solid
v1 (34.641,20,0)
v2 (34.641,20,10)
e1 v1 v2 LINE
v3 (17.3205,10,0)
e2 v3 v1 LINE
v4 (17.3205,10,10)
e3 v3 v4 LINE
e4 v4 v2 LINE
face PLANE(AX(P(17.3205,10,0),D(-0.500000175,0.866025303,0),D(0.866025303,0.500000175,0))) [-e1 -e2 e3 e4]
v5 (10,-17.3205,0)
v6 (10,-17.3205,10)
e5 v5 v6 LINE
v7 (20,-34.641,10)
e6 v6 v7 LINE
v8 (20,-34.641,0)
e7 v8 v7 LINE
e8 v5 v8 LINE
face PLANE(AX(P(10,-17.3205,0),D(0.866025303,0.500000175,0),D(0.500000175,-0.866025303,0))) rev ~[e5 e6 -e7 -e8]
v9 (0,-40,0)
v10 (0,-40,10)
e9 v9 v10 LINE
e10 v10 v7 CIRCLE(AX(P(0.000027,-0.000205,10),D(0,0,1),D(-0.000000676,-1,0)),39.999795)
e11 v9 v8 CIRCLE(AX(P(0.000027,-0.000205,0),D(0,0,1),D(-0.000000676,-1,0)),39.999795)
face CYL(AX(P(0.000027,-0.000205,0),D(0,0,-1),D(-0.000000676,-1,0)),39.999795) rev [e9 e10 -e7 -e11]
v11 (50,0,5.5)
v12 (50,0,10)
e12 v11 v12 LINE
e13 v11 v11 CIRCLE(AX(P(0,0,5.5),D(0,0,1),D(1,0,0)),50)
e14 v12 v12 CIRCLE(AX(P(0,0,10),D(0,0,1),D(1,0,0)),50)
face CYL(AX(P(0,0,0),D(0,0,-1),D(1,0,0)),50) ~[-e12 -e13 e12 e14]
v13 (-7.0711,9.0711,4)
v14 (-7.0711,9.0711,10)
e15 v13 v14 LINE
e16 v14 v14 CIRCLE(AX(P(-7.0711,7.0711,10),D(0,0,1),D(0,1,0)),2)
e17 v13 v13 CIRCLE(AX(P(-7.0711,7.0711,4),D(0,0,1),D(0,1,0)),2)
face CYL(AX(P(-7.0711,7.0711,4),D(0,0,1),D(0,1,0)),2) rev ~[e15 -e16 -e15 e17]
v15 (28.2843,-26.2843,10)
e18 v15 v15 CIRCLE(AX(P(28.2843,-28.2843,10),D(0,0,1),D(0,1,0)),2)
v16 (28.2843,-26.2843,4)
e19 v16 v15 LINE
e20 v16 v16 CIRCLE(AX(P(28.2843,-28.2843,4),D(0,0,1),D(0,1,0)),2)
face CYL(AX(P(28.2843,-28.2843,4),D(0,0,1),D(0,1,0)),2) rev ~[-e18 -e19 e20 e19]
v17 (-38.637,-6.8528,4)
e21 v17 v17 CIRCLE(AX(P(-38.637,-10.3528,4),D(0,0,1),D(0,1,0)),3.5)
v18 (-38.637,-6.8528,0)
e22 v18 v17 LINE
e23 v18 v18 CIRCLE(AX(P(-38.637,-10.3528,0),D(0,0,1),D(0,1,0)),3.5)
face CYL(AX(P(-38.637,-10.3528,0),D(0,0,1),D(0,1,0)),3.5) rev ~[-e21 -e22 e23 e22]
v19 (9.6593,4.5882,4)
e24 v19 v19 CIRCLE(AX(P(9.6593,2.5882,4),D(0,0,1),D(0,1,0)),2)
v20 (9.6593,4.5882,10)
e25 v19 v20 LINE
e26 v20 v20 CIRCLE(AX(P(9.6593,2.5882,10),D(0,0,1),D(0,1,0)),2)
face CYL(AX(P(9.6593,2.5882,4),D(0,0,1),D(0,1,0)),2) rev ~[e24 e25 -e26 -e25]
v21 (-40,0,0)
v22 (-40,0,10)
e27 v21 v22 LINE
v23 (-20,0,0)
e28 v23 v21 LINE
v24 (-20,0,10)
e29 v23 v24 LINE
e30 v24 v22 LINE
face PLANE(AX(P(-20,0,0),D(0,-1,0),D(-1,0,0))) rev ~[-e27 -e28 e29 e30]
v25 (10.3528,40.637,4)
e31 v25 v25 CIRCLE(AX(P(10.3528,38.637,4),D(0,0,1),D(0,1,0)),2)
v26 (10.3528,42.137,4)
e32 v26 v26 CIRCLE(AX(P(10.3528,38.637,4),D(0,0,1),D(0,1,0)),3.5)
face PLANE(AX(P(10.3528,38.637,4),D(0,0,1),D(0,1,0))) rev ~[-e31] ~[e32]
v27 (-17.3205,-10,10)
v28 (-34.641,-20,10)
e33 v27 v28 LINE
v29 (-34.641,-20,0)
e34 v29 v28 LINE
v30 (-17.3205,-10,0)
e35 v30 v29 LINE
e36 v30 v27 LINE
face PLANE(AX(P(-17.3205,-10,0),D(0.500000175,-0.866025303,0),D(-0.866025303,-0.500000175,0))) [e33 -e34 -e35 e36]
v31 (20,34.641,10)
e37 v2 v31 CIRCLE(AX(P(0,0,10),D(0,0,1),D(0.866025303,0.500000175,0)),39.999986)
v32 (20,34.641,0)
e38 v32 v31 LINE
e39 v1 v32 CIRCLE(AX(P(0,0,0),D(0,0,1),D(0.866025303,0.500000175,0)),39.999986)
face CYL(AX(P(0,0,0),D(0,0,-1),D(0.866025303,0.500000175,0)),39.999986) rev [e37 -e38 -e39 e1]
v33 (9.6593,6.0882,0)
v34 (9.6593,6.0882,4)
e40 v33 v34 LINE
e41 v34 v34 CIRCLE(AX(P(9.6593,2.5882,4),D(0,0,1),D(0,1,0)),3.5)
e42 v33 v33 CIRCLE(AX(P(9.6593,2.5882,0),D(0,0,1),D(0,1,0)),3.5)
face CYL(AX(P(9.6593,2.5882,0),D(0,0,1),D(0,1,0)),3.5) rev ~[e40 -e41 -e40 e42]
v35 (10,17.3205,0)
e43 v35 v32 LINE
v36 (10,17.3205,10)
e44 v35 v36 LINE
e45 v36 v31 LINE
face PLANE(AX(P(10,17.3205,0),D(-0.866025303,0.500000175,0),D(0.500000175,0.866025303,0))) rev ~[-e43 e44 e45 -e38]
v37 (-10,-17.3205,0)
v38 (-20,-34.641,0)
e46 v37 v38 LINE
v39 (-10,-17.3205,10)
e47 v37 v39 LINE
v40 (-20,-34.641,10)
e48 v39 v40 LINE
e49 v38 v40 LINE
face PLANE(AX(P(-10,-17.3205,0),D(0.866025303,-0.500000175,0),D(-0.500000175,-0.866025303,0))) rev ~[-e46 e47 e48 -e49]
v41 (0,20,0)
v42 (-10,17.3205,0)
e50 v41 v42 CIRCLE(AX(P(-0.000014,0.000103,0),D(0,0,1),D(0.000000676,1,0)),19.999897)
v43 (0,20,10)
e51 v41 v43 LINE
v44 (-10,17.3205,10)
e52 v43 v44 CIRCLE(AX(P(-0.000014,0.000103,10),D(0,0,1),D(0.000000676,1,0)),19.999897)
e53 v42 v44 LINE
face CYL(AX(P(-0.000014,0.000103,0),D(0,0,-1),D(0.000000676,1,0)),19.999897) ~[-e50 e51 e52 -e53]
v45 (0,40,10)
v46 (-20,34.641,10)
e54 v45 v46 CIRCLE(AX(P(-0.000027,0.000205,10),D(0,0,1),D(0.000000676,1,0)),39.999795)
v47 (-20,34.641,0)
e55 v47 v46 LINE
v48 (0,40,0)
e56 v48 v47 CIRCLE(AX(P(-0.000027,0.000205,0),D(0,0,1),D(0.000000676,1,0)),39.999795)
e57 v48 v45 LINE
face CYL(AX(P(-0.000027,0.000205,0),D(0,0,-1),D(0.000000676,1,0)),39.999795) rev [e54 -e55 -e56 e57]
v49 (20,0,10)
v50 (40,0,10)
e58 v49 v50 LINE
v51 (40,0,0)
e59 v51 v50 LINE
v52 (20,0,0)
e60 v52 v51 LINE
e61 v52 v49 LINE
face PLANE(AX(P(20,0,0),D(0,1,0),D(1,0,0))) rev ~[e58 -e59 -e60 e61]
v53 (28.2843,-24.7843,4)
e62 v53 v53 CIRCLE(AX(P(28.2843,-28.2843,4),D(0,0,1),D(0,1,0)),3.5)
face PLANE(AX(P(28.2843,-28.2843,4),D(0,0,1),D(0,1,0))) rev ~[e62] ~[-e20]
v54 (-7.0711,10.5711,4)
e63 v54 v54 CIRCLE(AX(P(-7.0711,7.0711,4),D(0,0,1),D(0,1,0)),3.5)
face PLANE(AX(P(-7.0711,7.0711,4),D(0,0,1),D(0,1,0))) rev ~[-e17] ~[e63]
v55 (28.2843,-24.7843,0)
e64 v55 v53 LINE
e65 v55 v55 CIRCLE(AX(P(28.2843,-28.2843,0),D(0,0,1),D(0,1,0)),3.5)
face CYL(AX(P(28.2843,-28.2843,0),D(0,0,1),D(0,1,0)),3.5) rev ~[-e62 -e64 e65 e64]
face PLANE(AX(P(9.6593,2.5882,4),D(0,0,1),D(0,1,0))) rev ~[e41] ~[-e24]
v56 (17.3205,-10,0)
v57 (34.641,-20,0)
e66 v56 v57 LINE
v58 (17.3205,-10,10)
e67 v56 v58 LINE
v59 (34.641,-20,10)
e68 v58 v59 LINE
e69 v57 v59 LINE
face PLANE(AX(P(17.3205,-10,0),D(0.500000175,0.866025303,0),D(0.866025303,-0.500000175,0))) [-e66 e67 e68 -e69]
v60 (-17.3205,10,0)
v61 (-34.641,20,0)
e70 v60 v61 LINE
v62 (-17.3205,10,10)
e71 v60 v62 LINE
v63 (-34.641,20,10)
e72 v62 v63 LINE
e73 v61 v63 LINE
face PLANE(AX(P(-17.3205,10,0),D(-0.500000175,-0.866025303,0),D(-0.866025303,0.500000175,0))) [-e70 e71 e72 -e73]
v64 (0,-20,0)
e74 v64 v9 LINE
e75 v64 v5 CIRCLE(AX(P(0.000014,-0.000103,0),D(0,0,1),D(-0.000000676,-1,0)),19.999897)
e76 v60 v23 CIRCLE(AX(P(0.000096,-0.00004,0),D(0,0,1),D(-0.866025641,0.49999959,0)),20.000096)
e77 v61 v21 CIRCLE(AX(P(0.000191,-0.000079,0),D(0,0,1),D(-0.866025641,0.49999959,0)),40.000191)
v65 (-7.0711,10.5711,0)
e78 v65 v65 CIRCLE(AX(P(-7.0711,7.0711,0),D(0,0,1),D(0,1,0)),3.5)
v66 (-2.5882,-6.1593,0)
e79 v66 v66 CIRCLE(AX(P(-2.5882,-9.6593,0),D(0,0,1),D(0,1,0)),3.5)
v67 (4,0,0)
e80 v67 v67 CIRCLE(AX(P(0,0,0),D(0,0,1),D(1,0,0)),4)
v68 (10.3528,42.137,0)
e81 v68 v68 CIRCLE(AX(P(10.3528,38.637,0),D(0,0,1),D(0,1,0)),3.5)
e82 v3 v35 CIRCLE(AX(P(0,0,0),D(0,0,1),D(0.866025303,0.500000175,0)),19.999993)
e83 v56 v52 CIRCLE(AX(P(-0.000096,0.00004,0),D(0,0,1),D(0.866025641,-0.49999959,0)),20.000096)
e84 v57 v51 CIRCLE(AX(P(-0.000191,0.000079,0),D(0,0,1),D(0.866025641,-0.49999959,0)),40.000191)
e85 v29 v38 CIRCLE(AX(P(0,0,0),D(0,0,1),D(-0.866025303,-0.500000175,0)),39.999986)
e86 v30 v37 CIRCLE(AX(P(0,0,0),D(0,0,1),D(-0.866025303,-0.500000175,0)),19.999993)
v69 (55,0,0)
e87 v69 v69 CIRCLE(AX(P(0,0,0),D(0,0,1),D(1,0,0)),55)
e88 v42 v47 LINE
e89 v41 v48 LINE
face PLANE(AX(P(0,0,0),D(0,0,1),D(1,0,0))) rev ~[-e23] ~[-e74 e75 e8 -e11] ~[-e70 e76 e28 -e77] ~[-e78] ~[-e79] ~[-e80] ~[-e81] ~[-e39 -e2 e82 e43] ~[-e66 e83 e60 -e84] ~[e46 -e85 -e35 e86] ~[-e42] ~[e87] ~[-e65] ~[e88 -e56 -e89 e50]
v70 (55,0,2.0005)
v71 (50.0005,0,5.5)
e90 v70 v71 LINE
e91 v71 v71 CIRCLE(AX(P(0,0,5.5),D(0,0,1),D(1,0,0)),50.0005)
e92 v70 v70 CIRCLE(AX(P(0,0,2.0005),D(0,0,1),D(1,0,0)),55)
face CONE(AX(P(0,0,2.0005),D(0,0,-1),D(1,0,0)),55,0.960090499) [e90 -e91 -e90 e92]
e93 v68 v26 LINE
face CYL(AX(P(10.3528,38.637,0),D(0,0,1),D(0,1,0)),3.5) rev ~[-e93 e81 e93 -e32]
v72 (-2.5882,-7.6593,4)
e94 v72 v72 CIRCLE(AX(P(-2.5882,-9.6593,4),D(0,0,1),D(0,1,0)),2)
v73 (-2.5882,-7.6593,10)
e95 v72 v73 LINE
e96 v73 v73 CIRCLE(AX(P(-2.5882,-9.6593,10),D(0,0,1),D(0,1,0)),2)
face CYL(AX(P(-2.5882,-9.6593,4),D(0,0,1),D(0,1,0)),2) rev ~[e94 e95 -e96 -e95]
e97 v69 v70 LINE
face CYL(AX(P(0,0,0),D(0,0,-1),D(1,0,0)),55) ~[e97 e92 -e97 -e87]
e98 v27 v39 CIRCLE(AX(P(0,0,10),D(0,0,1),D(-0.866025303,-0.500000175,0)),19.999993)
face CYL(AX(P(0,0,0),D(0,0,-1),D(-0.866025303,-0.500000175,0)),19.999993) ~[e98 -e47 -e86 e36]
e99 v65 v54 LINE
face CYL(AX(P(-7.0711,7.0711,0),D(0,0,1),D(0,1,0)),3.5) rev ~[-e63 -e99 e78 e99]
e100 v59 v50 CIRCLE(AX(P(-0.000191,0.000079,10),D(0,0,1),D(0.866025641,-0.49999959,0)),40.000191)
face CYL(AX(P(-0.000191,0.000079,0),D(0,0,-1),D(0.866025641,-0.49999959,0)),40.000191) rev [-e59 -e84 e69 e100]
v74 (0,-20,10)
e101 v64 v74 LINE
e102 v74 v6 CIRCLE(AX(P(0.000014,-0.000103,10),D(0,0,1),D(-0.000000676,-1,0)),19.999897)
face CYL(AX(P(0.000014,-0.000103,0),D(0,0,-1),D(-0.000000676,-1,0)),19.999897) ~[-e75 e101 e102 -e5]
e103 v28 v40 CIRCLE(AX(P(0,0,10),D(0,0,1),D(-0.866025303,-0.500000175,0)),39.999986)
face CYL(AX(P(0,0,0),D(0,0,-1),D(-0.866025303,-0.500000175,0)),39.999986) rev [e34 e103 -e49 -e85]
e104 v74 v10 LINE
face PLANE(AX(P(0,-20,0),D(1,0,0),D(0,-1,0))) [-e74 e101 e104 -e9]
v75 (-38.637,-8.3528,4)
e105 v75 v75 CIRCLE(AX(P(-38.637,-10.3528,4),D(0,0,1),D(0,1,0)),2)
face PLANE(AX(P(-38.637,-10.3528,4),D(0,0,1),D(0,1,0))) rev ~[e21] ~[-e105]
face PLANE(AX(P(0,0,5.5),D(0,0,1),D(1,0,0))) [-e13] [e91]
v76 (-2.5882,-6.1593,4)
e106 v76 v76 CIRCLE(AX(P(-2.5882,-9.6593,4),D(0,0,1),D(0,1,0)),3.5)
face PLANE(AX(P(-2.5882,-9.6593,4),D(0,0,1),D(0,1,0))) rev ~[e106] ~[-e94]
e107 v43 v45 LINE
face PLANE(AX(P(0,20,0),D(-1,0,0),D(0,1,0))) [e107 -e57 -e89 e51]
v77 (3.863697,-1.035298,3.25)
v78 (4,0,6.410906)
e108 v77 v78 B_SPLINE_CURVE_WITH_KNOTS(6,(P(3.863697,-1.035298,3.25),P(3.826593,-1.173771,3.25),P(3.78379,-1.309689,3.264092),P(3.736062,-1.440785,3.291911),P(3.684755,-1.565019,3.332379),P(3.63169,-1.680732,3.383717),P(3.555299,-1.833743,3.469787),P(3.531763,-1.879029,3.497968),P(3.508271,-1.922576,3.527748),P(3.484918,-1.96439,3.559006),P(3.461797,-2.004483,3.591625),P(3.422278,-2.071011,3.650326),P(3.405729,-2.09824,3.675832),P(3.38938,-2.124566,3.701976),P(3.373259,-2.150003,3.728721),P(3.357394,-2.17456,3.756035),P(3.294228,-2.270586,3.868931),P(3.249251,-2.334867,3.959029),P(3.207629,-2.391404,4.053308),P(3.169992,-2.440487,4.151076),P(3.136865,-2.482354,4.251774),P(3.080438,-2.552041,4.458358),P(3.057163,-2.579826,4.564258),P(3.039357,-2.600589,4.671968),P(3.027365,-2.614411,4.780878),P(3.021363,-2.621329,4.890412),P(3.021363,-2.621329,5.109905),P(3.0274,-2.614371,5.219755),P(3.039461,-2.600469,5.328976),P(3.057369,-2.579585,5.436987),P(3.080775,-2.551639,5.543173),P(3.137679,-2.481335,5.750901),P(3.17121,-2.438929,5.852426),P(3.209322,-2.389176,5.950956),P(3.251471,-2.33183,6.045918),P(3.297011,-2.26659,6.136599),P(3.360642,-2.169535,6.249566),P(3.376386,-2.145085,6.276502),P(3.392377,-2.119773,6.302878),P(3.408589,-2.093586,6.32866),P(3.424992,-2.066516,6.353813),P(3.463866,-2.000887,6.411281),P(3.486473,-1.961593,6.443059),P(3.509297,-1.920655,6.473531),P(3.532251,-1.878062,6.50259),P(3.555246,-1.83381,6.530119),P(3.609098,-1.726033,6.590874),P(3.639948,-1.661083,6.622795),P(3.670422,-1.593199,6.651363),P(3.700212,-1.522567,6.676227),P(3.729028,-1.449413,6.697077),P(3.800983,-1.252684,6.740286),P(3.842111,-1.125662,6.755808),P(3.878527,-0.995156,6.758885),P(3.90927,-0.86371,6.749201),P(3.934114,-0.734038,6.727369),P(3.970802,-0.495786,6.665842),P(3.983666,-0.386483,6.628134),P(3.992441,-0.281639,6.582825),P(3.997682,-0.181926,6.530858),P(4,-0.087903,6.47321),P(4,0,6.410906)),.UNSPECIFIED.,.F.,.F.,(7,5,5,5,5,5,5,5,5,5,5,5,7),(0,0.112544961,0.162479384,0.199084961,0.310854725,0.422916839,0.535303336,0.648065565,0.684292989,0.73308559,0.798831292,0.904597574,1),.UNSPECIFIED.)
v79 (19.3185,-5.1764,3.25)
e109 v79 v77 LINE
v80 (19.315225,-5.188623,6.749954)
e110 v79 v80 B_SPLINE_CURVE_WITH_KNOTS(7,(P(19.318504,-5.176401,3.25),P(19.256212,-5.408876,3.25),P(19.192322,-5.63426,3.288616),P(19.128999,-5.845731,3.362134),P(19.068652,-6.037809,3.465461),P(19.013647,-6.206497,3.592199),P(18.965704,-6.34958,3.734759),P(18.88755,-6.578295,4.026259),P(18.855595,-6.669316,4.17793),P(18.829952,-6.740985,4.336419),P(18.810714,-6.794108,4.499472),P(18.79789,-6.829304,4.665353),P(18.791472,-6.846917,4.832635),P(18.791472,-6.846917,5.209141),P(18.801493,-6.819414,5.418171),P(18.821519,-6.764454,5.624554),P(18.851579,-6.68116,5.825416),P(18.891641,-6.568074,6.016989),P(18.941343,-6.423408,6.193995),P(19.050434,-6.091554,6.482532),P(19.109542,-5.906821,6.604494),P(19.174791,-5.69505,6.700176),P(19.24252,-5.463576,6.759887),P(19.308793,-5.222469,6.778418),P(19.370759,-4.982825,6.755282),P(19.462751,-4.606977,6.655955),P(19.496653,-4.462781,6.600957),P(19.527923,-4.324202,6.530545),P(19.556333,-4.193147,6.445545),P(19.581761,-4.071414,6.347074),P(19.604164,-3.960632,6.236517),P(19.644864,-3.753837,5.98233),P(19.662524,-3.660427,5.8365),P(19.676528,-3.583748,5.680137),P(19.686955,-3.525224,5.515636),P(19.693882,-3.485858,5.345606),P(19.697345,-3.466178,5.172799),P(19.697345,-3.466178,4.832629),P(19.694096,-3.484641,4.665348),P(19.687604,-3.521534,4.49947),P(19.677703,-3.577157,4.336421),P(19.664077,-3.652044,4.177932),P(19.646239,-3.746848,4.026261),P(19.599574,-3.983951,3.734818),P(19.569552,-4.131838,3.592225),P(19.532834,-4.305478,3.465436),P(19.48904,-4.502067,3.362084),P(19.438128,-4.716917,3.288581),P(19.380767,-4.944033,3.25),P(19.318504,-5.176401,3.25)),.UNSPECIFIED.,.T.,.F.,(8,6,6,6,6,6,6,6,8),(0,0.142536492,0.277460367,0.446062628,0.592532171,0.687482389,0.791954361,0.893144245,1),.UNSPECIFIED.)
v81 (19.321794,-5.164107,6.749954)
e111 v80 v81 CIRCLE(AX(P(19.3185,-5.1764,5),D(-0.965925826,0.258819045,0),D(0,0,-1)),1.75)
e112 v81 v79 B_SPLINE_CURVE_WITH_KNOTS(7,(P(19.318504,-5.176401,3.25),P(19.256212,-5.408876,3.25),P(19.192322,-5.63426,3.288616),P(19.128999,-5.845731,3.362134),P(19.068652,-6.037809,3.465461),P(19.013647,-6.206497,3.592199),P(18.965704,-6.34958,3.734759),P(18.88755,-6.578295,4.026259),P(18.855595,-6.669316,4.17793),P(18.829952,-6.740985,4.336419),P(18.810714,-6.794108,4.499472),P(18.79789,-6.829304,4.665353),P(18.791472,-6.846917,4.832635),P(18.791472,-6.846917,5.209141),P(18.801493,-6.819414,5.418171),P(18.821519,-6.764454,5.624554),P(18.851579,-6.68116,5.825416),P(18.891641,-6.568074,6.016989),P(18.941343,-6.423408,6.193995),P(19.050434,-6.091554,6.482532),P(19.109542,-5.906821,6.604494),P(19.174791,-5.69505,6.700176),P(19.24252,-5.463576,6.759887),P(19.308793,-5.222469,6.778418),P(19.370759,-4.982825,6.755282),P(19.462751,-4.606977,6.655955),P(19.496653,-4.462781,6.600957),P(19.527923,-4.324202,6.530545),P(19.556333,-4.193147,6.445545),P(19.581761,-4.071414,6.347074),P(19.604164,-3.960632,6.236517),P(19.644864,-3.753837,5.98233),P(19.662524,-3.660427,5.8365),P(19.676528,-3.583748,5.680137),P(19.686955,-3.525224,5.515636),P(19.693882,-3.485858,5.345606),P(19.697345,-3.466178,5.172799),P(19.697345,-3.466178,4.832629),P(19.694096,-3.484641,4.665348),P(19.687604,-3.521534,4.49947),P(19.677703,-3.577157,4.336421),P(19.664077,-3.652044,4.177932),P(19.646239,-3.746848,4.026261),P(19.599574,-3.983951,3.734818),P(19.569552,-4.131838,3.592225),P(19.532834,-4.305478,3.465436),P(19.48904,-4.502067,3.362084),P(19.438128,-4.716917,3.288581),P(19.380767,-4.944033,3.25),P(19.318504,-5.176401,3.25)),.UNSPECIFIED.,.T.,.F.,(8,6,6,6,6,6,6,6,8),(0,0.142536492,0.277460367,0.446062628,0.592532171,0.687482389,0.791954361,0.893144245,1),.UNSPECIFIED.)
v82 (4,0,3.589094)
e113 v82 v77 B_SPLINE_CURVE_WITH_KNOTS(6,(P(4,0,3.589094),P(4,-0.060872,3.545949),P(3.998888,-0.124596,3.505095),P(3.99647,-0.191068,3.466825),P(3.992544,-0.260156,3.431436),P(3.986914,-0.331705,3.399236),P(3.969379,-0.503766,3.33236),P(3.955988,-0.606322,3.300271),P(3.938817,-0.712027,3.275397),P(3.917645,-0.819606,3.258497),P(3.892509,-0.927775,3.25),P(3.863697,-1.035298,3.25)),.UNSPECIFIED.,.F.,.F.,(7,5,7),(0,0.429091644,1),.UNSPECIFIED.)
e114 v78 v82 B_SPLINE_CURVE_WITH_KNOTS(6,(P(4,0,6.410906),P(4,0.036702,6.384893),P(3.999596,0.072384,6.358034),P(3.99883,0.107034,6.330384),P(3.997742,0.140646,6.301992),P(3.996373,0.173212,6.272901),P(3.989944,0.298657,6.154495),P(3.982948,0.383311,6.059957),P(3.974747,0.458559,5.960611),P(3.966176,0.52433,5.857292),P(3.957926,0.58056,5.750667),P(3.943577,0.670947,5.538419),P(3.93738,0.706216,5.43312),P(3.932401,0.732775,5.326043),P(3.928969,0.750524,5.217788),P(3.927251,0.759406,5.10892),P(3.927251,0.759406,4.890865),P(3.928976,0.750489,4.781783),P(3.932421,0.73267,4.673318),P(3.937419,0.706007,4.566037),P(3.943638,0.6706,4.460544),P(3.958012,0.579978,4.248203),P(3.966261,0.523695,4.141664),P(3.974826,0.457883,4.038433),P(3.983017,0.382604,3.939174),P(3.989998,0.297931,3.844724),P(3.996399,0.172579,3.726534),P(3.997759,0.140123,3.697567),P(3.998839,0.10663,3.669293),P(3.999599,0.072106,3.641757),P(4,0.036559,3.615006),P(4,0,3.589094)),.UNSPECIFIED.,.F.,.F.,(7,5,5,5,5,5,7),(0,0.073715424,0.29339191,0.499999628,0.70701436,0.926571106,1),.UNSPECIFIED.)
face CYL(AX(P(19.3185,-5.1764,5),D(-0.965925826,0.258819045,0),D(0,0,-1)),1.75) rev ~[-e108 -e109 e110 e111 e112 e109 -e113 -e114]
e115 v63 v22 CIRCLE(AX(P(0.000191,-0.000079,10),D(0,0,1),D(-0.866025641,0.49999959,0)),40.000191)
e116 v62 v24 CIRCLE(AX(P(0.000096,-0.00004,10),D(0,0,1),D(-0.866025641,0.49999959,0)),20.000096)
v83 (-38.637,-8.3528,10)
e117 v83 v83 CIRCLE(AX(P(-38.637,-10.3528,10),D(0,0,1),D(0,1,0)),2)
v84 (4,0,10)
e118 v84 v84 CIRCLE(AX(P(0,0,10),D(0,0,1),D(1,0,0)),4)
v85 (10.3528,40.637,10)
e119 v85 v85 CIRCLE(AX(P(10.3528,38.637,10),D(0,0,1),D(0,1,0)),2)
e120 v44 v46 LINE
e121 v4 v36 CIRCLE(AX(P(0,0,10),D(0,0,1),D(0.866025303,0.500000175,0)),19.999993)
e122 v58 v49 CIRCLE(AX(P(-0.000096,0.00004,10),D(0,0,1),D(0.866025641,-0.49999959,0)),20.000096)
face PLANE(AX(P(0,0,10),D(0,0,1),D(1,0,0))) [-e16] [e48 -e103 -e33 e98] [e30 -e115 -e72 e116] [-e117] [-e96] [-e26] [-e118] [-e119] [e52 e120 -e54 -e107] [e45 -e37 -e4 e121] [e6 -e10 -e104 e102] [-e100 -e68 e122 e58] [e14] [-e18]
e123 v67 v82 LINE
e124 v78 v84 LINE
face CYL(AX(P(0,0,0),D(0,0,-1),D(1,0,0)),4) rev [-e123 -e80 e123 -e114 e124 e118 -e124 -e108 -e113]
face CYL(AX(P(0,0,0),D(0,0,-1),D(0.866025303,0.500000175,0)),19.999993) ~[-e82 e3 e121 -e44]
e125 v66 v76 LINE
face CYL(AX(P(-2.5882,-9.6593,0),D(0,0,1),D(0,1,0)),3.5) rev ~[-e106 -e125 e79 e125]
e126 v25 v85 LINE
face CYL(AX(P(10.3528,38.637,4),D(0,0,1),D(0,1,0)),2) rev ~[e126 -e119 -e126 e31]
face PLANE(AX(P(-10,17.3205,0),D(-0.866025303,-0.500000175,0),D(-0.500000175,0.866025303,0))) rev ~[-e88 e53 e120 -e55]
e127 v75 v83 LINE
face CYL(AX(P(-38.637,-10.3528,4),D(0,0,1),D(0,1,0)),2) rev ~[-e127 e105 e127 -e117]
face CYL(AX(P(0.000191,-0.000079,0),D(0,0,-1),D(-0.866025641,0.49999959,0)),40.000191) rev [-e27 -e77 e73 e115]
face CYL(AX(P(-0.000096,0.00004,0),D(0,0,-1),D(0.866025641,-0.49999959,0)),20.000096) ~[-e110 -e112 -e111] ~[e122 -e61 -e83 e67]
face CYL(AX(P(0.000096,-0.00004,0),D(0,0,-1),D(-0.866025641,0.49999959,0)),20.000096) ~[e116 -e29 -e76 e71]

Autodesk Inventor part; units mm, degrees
ref_plane "YZ Plane" through (0, 0, 0) normal (1, 0, 0) x (0, 1, 0)
ref_plane "XZ Plane" through (0, 0, 0) normal (0, 1, 0) x (-1, 0, 0)
sketch "Sketch1" plane through (0, 0, 0) normal (0, 0, 1) x (1, 0, 0)
  circle A0 centre (0, 0) radius 55
  circle A1 centre (0, 0) radius 50
  circle A2 centre (0, 0) radius 4
  line L0 (0, 20) -> (0, 40)
  arc A3 (0, 20) -> (-10, 17.3205) centre (0, 0) ccw
  line L1 (0, 0) -> (-10, 17.3205) construction
  line L2 (0, 0) -> (0, 20) construction
  arc A4 (0, 40) -> (-20, 34.641) centre (0, 0) ccw
  line L3 (0, 0) -> (-20, 34.641) construction
  line L4 (0, 0) -> (0, 40) construction
  line L5 (-10, 17.3205) -> (-20, 34.641)
  line L6 (-17.3205, 10) -> (-34.641, 20)
  arc A5 (-17.3205, 10) -> (-20, 0) centre (0, 0) ccw
  line L7 (0, 0) -> (-20, 0) construction
  line L8 (0, 0) -> (-17.3205, 10) construction
  arc A6 (-34.641, 20) -> (-40, 0) centre (0, 0) ccw
  line L9 (0, 0) -> (-40, 0) construction
  line L10 (0, 0) -> (-34.641, 20) construction
  line L11 (-20, 0) -> (-40, 0)
  line L12 (-17.3205, -10) -> (-34.641, -20)
  arc A7 (-17.3205, -10) -> (-10, -17.3205) centre (0, 0) ccw
  line L13 (0, 0) -> (-10, -17.3205) construction
  line L14 (0, 0) -> (-17.3205, -10) construction
  arc A8 (-34.641, -20) -> (-20, -34.641) centre (0, 0) ccw
  line L15 (0, 0) -> (-20, -34.641) construction
  line L16 (0, 0) -> (-34.641, -20) construction
  line L17 (-10, -17.3205) -> (-20, -34.641)
  line L18 (0, -20) -> (0, -40)
  arc A9 (0, -20) -> (10, -17.3205) centre (0, 0) ccw
  line L19 (0, 0) -> (10, -17.3205) construction
  line L20 (0, 0) -> (0, -20) construction
  arc A10 (0, -40) -> (20, -34.641) centre (0, 0) ccw
  line L21 (0, 0) -> (20, -34.641) construction
  line L22 (0, 0) -> (0, -40) construction
  line L23 (10, -17.3205) -> (20, -34.641)
  line L24 (17.3205, -10) -> (34.641, -20)
  arc A11 (17.3205, -10) -> (20, 0) centre (0, 0) ccw
  line L25 (0, 0) -> (20, 0) construction
  line L26 (0, 0) -> (17.3205, -10) construction
  arc A12 (34.641, -20) -> (40, 0) centre (0, 0) ccw
  line L27 (0, 0) -> (40, 0) construction
  line L28 (0, 0) -> (34.641, -20) construction
  line L29 (20, 0) -> (40, 0)
  line L30 (17.3205, 10) -> (34.641, 20)
  arc A13 (17.3205, 10) -> (10, 17.3205) centre (0, 0) ccw
  line L31 (0, 0) -> (10, 17.3205) construction
  line L32 (0, 0) -> (17.3205, 10) construction
  arc A14 (34.641, 20) -> (20, 34.641) centre (0, 0) ccw
  line L33 (0, 0) -> (20, 34.641) construction
  line L34 (0, 0) -> (34.641, 20) construction
  line L35 (10, 17.3205) -> (20, 34.641)
  point P0 (0, 10)
  point P1 (-2.5882, 9.6593)
  point P2 (-5, 8.6603)
  point P3 (-7.0711, 7.0711)
  point P4 (-8.6603, 5)
  point P5 (-9.6593, 2.5882)
  point P6 (-10, 0)
  point P7 (-9.6593, -2.5882)
  point P8 (-8.6603, -5)
  point P9 (-7.0711, -7.0711)
  point P10 (-5, -8.6603)
  point P11 (-2.5882, -9.6593)
  point P12 (0, -10)
  point P13 (2.5882, -9.6593)
  point P14 (5, -8.6603)
  point P15 (7.0711, -7.0711)
  point P16 (8.6603, -5)
  point P17 (9.6593, -2.5882)
  point P18 (10, 0)
  point P19 (9.6593, 2.5882)
  point P20 (8.6603, 5)
  point P21 (7.0711, 7.0711)
  point P22 (5, 8.6603)
  point P23 (2.5882, 9.6593)
  point P24 (10.3528, -38.637)
  point P25 (20, -34.641)
  point P26 (28.2843, -28.2843)
  point P27 (34.641, -20)
  point P28 (38.637, -10.3528)
  point P29 (40, 0)
  point P30 (38.637, 10.3528)
  point P31 (34.641, 20)
  point P32 (28.2843, 28.2843)
  point P33 (20, 34.641)
  point P34 (10.3528, 38.637)
  point P35 (0, 40)
  point P36 (-10.3528, 38.637)
  point P37 (-20, 34.641)
  point P38 (-28.2843, 28.2843)
  point P39 (-34.641, 20)
  point P40 (-38.637, 10.3528)
  point P41 (-40, 0)
  point P42 (-38.637, -10.3528)
  point P43 (-34.641, -20)
  point P44 (-28.2843, -28.2843)
  point P45 (-20, -34.641)
  point P46 (-10.3528, -38.637)
  dimension "d1" = 100
  dimension "d2" = 8
  dimension "d11" = 20
  dimension "d12" = 20
  dimension "d13" = 30
  dimension "d14" = 30
  dimension "d17" = 360
  dimension "d34" = 10
  dimension "d37" = 360
  dimension "d48" = 360
  dimension "d57" = 110
extrude "Extrusion1" add sketch "Sketch1" along normal blind 10 contours A1
extrude "Extrusion2" add sketch "Sketch1" along normal blind 5.5 contours A0
hole "Hole2" at (-2.5882, -9.6593, 0) at (-7.0711, 7.0711, 0) at (9.6593, 2.5882, 0) direction (0, 0, 1) diameter 4 end through all counterbore diameter 7 counterbore depth 4
hole "Hole3" at (28.2843, -28.2843, 0) at (-38.637, -10.3528, 0) at (10.3528, 38.637, 0) direction (0, 0, 1) diameter 4 end through all counterbore diameter 7 counterbore depth 4
chamfer "Chamfer2" distance 3.5 distance2 5 1 edges at (-55, 0, 5.5) measured on face at (-50.386, -22.0512, 3.6667)
ref_plane "Work Plane3" through (19.3185, -5.1764, 0) normal (-0.9659, 0.2588, 0) x (-0.2588, -0.9659, 0)
sketch "Sketch3" plane through (19.3185, -5.1764, 0) normal (-0.9659, 0.2588, 0) x (-0.2588, -0.9659, 0)
  point P0 (0, 0)
  point P1 (0, 5)
  dimension "d61" = 5
hole "Hole4" at (19.3185, -5.1764, 5) direction (-0.9659, 0.2588, 0) diameter 3.5 depth 20
properties part number "wheel small" material "UHMW, Black"
